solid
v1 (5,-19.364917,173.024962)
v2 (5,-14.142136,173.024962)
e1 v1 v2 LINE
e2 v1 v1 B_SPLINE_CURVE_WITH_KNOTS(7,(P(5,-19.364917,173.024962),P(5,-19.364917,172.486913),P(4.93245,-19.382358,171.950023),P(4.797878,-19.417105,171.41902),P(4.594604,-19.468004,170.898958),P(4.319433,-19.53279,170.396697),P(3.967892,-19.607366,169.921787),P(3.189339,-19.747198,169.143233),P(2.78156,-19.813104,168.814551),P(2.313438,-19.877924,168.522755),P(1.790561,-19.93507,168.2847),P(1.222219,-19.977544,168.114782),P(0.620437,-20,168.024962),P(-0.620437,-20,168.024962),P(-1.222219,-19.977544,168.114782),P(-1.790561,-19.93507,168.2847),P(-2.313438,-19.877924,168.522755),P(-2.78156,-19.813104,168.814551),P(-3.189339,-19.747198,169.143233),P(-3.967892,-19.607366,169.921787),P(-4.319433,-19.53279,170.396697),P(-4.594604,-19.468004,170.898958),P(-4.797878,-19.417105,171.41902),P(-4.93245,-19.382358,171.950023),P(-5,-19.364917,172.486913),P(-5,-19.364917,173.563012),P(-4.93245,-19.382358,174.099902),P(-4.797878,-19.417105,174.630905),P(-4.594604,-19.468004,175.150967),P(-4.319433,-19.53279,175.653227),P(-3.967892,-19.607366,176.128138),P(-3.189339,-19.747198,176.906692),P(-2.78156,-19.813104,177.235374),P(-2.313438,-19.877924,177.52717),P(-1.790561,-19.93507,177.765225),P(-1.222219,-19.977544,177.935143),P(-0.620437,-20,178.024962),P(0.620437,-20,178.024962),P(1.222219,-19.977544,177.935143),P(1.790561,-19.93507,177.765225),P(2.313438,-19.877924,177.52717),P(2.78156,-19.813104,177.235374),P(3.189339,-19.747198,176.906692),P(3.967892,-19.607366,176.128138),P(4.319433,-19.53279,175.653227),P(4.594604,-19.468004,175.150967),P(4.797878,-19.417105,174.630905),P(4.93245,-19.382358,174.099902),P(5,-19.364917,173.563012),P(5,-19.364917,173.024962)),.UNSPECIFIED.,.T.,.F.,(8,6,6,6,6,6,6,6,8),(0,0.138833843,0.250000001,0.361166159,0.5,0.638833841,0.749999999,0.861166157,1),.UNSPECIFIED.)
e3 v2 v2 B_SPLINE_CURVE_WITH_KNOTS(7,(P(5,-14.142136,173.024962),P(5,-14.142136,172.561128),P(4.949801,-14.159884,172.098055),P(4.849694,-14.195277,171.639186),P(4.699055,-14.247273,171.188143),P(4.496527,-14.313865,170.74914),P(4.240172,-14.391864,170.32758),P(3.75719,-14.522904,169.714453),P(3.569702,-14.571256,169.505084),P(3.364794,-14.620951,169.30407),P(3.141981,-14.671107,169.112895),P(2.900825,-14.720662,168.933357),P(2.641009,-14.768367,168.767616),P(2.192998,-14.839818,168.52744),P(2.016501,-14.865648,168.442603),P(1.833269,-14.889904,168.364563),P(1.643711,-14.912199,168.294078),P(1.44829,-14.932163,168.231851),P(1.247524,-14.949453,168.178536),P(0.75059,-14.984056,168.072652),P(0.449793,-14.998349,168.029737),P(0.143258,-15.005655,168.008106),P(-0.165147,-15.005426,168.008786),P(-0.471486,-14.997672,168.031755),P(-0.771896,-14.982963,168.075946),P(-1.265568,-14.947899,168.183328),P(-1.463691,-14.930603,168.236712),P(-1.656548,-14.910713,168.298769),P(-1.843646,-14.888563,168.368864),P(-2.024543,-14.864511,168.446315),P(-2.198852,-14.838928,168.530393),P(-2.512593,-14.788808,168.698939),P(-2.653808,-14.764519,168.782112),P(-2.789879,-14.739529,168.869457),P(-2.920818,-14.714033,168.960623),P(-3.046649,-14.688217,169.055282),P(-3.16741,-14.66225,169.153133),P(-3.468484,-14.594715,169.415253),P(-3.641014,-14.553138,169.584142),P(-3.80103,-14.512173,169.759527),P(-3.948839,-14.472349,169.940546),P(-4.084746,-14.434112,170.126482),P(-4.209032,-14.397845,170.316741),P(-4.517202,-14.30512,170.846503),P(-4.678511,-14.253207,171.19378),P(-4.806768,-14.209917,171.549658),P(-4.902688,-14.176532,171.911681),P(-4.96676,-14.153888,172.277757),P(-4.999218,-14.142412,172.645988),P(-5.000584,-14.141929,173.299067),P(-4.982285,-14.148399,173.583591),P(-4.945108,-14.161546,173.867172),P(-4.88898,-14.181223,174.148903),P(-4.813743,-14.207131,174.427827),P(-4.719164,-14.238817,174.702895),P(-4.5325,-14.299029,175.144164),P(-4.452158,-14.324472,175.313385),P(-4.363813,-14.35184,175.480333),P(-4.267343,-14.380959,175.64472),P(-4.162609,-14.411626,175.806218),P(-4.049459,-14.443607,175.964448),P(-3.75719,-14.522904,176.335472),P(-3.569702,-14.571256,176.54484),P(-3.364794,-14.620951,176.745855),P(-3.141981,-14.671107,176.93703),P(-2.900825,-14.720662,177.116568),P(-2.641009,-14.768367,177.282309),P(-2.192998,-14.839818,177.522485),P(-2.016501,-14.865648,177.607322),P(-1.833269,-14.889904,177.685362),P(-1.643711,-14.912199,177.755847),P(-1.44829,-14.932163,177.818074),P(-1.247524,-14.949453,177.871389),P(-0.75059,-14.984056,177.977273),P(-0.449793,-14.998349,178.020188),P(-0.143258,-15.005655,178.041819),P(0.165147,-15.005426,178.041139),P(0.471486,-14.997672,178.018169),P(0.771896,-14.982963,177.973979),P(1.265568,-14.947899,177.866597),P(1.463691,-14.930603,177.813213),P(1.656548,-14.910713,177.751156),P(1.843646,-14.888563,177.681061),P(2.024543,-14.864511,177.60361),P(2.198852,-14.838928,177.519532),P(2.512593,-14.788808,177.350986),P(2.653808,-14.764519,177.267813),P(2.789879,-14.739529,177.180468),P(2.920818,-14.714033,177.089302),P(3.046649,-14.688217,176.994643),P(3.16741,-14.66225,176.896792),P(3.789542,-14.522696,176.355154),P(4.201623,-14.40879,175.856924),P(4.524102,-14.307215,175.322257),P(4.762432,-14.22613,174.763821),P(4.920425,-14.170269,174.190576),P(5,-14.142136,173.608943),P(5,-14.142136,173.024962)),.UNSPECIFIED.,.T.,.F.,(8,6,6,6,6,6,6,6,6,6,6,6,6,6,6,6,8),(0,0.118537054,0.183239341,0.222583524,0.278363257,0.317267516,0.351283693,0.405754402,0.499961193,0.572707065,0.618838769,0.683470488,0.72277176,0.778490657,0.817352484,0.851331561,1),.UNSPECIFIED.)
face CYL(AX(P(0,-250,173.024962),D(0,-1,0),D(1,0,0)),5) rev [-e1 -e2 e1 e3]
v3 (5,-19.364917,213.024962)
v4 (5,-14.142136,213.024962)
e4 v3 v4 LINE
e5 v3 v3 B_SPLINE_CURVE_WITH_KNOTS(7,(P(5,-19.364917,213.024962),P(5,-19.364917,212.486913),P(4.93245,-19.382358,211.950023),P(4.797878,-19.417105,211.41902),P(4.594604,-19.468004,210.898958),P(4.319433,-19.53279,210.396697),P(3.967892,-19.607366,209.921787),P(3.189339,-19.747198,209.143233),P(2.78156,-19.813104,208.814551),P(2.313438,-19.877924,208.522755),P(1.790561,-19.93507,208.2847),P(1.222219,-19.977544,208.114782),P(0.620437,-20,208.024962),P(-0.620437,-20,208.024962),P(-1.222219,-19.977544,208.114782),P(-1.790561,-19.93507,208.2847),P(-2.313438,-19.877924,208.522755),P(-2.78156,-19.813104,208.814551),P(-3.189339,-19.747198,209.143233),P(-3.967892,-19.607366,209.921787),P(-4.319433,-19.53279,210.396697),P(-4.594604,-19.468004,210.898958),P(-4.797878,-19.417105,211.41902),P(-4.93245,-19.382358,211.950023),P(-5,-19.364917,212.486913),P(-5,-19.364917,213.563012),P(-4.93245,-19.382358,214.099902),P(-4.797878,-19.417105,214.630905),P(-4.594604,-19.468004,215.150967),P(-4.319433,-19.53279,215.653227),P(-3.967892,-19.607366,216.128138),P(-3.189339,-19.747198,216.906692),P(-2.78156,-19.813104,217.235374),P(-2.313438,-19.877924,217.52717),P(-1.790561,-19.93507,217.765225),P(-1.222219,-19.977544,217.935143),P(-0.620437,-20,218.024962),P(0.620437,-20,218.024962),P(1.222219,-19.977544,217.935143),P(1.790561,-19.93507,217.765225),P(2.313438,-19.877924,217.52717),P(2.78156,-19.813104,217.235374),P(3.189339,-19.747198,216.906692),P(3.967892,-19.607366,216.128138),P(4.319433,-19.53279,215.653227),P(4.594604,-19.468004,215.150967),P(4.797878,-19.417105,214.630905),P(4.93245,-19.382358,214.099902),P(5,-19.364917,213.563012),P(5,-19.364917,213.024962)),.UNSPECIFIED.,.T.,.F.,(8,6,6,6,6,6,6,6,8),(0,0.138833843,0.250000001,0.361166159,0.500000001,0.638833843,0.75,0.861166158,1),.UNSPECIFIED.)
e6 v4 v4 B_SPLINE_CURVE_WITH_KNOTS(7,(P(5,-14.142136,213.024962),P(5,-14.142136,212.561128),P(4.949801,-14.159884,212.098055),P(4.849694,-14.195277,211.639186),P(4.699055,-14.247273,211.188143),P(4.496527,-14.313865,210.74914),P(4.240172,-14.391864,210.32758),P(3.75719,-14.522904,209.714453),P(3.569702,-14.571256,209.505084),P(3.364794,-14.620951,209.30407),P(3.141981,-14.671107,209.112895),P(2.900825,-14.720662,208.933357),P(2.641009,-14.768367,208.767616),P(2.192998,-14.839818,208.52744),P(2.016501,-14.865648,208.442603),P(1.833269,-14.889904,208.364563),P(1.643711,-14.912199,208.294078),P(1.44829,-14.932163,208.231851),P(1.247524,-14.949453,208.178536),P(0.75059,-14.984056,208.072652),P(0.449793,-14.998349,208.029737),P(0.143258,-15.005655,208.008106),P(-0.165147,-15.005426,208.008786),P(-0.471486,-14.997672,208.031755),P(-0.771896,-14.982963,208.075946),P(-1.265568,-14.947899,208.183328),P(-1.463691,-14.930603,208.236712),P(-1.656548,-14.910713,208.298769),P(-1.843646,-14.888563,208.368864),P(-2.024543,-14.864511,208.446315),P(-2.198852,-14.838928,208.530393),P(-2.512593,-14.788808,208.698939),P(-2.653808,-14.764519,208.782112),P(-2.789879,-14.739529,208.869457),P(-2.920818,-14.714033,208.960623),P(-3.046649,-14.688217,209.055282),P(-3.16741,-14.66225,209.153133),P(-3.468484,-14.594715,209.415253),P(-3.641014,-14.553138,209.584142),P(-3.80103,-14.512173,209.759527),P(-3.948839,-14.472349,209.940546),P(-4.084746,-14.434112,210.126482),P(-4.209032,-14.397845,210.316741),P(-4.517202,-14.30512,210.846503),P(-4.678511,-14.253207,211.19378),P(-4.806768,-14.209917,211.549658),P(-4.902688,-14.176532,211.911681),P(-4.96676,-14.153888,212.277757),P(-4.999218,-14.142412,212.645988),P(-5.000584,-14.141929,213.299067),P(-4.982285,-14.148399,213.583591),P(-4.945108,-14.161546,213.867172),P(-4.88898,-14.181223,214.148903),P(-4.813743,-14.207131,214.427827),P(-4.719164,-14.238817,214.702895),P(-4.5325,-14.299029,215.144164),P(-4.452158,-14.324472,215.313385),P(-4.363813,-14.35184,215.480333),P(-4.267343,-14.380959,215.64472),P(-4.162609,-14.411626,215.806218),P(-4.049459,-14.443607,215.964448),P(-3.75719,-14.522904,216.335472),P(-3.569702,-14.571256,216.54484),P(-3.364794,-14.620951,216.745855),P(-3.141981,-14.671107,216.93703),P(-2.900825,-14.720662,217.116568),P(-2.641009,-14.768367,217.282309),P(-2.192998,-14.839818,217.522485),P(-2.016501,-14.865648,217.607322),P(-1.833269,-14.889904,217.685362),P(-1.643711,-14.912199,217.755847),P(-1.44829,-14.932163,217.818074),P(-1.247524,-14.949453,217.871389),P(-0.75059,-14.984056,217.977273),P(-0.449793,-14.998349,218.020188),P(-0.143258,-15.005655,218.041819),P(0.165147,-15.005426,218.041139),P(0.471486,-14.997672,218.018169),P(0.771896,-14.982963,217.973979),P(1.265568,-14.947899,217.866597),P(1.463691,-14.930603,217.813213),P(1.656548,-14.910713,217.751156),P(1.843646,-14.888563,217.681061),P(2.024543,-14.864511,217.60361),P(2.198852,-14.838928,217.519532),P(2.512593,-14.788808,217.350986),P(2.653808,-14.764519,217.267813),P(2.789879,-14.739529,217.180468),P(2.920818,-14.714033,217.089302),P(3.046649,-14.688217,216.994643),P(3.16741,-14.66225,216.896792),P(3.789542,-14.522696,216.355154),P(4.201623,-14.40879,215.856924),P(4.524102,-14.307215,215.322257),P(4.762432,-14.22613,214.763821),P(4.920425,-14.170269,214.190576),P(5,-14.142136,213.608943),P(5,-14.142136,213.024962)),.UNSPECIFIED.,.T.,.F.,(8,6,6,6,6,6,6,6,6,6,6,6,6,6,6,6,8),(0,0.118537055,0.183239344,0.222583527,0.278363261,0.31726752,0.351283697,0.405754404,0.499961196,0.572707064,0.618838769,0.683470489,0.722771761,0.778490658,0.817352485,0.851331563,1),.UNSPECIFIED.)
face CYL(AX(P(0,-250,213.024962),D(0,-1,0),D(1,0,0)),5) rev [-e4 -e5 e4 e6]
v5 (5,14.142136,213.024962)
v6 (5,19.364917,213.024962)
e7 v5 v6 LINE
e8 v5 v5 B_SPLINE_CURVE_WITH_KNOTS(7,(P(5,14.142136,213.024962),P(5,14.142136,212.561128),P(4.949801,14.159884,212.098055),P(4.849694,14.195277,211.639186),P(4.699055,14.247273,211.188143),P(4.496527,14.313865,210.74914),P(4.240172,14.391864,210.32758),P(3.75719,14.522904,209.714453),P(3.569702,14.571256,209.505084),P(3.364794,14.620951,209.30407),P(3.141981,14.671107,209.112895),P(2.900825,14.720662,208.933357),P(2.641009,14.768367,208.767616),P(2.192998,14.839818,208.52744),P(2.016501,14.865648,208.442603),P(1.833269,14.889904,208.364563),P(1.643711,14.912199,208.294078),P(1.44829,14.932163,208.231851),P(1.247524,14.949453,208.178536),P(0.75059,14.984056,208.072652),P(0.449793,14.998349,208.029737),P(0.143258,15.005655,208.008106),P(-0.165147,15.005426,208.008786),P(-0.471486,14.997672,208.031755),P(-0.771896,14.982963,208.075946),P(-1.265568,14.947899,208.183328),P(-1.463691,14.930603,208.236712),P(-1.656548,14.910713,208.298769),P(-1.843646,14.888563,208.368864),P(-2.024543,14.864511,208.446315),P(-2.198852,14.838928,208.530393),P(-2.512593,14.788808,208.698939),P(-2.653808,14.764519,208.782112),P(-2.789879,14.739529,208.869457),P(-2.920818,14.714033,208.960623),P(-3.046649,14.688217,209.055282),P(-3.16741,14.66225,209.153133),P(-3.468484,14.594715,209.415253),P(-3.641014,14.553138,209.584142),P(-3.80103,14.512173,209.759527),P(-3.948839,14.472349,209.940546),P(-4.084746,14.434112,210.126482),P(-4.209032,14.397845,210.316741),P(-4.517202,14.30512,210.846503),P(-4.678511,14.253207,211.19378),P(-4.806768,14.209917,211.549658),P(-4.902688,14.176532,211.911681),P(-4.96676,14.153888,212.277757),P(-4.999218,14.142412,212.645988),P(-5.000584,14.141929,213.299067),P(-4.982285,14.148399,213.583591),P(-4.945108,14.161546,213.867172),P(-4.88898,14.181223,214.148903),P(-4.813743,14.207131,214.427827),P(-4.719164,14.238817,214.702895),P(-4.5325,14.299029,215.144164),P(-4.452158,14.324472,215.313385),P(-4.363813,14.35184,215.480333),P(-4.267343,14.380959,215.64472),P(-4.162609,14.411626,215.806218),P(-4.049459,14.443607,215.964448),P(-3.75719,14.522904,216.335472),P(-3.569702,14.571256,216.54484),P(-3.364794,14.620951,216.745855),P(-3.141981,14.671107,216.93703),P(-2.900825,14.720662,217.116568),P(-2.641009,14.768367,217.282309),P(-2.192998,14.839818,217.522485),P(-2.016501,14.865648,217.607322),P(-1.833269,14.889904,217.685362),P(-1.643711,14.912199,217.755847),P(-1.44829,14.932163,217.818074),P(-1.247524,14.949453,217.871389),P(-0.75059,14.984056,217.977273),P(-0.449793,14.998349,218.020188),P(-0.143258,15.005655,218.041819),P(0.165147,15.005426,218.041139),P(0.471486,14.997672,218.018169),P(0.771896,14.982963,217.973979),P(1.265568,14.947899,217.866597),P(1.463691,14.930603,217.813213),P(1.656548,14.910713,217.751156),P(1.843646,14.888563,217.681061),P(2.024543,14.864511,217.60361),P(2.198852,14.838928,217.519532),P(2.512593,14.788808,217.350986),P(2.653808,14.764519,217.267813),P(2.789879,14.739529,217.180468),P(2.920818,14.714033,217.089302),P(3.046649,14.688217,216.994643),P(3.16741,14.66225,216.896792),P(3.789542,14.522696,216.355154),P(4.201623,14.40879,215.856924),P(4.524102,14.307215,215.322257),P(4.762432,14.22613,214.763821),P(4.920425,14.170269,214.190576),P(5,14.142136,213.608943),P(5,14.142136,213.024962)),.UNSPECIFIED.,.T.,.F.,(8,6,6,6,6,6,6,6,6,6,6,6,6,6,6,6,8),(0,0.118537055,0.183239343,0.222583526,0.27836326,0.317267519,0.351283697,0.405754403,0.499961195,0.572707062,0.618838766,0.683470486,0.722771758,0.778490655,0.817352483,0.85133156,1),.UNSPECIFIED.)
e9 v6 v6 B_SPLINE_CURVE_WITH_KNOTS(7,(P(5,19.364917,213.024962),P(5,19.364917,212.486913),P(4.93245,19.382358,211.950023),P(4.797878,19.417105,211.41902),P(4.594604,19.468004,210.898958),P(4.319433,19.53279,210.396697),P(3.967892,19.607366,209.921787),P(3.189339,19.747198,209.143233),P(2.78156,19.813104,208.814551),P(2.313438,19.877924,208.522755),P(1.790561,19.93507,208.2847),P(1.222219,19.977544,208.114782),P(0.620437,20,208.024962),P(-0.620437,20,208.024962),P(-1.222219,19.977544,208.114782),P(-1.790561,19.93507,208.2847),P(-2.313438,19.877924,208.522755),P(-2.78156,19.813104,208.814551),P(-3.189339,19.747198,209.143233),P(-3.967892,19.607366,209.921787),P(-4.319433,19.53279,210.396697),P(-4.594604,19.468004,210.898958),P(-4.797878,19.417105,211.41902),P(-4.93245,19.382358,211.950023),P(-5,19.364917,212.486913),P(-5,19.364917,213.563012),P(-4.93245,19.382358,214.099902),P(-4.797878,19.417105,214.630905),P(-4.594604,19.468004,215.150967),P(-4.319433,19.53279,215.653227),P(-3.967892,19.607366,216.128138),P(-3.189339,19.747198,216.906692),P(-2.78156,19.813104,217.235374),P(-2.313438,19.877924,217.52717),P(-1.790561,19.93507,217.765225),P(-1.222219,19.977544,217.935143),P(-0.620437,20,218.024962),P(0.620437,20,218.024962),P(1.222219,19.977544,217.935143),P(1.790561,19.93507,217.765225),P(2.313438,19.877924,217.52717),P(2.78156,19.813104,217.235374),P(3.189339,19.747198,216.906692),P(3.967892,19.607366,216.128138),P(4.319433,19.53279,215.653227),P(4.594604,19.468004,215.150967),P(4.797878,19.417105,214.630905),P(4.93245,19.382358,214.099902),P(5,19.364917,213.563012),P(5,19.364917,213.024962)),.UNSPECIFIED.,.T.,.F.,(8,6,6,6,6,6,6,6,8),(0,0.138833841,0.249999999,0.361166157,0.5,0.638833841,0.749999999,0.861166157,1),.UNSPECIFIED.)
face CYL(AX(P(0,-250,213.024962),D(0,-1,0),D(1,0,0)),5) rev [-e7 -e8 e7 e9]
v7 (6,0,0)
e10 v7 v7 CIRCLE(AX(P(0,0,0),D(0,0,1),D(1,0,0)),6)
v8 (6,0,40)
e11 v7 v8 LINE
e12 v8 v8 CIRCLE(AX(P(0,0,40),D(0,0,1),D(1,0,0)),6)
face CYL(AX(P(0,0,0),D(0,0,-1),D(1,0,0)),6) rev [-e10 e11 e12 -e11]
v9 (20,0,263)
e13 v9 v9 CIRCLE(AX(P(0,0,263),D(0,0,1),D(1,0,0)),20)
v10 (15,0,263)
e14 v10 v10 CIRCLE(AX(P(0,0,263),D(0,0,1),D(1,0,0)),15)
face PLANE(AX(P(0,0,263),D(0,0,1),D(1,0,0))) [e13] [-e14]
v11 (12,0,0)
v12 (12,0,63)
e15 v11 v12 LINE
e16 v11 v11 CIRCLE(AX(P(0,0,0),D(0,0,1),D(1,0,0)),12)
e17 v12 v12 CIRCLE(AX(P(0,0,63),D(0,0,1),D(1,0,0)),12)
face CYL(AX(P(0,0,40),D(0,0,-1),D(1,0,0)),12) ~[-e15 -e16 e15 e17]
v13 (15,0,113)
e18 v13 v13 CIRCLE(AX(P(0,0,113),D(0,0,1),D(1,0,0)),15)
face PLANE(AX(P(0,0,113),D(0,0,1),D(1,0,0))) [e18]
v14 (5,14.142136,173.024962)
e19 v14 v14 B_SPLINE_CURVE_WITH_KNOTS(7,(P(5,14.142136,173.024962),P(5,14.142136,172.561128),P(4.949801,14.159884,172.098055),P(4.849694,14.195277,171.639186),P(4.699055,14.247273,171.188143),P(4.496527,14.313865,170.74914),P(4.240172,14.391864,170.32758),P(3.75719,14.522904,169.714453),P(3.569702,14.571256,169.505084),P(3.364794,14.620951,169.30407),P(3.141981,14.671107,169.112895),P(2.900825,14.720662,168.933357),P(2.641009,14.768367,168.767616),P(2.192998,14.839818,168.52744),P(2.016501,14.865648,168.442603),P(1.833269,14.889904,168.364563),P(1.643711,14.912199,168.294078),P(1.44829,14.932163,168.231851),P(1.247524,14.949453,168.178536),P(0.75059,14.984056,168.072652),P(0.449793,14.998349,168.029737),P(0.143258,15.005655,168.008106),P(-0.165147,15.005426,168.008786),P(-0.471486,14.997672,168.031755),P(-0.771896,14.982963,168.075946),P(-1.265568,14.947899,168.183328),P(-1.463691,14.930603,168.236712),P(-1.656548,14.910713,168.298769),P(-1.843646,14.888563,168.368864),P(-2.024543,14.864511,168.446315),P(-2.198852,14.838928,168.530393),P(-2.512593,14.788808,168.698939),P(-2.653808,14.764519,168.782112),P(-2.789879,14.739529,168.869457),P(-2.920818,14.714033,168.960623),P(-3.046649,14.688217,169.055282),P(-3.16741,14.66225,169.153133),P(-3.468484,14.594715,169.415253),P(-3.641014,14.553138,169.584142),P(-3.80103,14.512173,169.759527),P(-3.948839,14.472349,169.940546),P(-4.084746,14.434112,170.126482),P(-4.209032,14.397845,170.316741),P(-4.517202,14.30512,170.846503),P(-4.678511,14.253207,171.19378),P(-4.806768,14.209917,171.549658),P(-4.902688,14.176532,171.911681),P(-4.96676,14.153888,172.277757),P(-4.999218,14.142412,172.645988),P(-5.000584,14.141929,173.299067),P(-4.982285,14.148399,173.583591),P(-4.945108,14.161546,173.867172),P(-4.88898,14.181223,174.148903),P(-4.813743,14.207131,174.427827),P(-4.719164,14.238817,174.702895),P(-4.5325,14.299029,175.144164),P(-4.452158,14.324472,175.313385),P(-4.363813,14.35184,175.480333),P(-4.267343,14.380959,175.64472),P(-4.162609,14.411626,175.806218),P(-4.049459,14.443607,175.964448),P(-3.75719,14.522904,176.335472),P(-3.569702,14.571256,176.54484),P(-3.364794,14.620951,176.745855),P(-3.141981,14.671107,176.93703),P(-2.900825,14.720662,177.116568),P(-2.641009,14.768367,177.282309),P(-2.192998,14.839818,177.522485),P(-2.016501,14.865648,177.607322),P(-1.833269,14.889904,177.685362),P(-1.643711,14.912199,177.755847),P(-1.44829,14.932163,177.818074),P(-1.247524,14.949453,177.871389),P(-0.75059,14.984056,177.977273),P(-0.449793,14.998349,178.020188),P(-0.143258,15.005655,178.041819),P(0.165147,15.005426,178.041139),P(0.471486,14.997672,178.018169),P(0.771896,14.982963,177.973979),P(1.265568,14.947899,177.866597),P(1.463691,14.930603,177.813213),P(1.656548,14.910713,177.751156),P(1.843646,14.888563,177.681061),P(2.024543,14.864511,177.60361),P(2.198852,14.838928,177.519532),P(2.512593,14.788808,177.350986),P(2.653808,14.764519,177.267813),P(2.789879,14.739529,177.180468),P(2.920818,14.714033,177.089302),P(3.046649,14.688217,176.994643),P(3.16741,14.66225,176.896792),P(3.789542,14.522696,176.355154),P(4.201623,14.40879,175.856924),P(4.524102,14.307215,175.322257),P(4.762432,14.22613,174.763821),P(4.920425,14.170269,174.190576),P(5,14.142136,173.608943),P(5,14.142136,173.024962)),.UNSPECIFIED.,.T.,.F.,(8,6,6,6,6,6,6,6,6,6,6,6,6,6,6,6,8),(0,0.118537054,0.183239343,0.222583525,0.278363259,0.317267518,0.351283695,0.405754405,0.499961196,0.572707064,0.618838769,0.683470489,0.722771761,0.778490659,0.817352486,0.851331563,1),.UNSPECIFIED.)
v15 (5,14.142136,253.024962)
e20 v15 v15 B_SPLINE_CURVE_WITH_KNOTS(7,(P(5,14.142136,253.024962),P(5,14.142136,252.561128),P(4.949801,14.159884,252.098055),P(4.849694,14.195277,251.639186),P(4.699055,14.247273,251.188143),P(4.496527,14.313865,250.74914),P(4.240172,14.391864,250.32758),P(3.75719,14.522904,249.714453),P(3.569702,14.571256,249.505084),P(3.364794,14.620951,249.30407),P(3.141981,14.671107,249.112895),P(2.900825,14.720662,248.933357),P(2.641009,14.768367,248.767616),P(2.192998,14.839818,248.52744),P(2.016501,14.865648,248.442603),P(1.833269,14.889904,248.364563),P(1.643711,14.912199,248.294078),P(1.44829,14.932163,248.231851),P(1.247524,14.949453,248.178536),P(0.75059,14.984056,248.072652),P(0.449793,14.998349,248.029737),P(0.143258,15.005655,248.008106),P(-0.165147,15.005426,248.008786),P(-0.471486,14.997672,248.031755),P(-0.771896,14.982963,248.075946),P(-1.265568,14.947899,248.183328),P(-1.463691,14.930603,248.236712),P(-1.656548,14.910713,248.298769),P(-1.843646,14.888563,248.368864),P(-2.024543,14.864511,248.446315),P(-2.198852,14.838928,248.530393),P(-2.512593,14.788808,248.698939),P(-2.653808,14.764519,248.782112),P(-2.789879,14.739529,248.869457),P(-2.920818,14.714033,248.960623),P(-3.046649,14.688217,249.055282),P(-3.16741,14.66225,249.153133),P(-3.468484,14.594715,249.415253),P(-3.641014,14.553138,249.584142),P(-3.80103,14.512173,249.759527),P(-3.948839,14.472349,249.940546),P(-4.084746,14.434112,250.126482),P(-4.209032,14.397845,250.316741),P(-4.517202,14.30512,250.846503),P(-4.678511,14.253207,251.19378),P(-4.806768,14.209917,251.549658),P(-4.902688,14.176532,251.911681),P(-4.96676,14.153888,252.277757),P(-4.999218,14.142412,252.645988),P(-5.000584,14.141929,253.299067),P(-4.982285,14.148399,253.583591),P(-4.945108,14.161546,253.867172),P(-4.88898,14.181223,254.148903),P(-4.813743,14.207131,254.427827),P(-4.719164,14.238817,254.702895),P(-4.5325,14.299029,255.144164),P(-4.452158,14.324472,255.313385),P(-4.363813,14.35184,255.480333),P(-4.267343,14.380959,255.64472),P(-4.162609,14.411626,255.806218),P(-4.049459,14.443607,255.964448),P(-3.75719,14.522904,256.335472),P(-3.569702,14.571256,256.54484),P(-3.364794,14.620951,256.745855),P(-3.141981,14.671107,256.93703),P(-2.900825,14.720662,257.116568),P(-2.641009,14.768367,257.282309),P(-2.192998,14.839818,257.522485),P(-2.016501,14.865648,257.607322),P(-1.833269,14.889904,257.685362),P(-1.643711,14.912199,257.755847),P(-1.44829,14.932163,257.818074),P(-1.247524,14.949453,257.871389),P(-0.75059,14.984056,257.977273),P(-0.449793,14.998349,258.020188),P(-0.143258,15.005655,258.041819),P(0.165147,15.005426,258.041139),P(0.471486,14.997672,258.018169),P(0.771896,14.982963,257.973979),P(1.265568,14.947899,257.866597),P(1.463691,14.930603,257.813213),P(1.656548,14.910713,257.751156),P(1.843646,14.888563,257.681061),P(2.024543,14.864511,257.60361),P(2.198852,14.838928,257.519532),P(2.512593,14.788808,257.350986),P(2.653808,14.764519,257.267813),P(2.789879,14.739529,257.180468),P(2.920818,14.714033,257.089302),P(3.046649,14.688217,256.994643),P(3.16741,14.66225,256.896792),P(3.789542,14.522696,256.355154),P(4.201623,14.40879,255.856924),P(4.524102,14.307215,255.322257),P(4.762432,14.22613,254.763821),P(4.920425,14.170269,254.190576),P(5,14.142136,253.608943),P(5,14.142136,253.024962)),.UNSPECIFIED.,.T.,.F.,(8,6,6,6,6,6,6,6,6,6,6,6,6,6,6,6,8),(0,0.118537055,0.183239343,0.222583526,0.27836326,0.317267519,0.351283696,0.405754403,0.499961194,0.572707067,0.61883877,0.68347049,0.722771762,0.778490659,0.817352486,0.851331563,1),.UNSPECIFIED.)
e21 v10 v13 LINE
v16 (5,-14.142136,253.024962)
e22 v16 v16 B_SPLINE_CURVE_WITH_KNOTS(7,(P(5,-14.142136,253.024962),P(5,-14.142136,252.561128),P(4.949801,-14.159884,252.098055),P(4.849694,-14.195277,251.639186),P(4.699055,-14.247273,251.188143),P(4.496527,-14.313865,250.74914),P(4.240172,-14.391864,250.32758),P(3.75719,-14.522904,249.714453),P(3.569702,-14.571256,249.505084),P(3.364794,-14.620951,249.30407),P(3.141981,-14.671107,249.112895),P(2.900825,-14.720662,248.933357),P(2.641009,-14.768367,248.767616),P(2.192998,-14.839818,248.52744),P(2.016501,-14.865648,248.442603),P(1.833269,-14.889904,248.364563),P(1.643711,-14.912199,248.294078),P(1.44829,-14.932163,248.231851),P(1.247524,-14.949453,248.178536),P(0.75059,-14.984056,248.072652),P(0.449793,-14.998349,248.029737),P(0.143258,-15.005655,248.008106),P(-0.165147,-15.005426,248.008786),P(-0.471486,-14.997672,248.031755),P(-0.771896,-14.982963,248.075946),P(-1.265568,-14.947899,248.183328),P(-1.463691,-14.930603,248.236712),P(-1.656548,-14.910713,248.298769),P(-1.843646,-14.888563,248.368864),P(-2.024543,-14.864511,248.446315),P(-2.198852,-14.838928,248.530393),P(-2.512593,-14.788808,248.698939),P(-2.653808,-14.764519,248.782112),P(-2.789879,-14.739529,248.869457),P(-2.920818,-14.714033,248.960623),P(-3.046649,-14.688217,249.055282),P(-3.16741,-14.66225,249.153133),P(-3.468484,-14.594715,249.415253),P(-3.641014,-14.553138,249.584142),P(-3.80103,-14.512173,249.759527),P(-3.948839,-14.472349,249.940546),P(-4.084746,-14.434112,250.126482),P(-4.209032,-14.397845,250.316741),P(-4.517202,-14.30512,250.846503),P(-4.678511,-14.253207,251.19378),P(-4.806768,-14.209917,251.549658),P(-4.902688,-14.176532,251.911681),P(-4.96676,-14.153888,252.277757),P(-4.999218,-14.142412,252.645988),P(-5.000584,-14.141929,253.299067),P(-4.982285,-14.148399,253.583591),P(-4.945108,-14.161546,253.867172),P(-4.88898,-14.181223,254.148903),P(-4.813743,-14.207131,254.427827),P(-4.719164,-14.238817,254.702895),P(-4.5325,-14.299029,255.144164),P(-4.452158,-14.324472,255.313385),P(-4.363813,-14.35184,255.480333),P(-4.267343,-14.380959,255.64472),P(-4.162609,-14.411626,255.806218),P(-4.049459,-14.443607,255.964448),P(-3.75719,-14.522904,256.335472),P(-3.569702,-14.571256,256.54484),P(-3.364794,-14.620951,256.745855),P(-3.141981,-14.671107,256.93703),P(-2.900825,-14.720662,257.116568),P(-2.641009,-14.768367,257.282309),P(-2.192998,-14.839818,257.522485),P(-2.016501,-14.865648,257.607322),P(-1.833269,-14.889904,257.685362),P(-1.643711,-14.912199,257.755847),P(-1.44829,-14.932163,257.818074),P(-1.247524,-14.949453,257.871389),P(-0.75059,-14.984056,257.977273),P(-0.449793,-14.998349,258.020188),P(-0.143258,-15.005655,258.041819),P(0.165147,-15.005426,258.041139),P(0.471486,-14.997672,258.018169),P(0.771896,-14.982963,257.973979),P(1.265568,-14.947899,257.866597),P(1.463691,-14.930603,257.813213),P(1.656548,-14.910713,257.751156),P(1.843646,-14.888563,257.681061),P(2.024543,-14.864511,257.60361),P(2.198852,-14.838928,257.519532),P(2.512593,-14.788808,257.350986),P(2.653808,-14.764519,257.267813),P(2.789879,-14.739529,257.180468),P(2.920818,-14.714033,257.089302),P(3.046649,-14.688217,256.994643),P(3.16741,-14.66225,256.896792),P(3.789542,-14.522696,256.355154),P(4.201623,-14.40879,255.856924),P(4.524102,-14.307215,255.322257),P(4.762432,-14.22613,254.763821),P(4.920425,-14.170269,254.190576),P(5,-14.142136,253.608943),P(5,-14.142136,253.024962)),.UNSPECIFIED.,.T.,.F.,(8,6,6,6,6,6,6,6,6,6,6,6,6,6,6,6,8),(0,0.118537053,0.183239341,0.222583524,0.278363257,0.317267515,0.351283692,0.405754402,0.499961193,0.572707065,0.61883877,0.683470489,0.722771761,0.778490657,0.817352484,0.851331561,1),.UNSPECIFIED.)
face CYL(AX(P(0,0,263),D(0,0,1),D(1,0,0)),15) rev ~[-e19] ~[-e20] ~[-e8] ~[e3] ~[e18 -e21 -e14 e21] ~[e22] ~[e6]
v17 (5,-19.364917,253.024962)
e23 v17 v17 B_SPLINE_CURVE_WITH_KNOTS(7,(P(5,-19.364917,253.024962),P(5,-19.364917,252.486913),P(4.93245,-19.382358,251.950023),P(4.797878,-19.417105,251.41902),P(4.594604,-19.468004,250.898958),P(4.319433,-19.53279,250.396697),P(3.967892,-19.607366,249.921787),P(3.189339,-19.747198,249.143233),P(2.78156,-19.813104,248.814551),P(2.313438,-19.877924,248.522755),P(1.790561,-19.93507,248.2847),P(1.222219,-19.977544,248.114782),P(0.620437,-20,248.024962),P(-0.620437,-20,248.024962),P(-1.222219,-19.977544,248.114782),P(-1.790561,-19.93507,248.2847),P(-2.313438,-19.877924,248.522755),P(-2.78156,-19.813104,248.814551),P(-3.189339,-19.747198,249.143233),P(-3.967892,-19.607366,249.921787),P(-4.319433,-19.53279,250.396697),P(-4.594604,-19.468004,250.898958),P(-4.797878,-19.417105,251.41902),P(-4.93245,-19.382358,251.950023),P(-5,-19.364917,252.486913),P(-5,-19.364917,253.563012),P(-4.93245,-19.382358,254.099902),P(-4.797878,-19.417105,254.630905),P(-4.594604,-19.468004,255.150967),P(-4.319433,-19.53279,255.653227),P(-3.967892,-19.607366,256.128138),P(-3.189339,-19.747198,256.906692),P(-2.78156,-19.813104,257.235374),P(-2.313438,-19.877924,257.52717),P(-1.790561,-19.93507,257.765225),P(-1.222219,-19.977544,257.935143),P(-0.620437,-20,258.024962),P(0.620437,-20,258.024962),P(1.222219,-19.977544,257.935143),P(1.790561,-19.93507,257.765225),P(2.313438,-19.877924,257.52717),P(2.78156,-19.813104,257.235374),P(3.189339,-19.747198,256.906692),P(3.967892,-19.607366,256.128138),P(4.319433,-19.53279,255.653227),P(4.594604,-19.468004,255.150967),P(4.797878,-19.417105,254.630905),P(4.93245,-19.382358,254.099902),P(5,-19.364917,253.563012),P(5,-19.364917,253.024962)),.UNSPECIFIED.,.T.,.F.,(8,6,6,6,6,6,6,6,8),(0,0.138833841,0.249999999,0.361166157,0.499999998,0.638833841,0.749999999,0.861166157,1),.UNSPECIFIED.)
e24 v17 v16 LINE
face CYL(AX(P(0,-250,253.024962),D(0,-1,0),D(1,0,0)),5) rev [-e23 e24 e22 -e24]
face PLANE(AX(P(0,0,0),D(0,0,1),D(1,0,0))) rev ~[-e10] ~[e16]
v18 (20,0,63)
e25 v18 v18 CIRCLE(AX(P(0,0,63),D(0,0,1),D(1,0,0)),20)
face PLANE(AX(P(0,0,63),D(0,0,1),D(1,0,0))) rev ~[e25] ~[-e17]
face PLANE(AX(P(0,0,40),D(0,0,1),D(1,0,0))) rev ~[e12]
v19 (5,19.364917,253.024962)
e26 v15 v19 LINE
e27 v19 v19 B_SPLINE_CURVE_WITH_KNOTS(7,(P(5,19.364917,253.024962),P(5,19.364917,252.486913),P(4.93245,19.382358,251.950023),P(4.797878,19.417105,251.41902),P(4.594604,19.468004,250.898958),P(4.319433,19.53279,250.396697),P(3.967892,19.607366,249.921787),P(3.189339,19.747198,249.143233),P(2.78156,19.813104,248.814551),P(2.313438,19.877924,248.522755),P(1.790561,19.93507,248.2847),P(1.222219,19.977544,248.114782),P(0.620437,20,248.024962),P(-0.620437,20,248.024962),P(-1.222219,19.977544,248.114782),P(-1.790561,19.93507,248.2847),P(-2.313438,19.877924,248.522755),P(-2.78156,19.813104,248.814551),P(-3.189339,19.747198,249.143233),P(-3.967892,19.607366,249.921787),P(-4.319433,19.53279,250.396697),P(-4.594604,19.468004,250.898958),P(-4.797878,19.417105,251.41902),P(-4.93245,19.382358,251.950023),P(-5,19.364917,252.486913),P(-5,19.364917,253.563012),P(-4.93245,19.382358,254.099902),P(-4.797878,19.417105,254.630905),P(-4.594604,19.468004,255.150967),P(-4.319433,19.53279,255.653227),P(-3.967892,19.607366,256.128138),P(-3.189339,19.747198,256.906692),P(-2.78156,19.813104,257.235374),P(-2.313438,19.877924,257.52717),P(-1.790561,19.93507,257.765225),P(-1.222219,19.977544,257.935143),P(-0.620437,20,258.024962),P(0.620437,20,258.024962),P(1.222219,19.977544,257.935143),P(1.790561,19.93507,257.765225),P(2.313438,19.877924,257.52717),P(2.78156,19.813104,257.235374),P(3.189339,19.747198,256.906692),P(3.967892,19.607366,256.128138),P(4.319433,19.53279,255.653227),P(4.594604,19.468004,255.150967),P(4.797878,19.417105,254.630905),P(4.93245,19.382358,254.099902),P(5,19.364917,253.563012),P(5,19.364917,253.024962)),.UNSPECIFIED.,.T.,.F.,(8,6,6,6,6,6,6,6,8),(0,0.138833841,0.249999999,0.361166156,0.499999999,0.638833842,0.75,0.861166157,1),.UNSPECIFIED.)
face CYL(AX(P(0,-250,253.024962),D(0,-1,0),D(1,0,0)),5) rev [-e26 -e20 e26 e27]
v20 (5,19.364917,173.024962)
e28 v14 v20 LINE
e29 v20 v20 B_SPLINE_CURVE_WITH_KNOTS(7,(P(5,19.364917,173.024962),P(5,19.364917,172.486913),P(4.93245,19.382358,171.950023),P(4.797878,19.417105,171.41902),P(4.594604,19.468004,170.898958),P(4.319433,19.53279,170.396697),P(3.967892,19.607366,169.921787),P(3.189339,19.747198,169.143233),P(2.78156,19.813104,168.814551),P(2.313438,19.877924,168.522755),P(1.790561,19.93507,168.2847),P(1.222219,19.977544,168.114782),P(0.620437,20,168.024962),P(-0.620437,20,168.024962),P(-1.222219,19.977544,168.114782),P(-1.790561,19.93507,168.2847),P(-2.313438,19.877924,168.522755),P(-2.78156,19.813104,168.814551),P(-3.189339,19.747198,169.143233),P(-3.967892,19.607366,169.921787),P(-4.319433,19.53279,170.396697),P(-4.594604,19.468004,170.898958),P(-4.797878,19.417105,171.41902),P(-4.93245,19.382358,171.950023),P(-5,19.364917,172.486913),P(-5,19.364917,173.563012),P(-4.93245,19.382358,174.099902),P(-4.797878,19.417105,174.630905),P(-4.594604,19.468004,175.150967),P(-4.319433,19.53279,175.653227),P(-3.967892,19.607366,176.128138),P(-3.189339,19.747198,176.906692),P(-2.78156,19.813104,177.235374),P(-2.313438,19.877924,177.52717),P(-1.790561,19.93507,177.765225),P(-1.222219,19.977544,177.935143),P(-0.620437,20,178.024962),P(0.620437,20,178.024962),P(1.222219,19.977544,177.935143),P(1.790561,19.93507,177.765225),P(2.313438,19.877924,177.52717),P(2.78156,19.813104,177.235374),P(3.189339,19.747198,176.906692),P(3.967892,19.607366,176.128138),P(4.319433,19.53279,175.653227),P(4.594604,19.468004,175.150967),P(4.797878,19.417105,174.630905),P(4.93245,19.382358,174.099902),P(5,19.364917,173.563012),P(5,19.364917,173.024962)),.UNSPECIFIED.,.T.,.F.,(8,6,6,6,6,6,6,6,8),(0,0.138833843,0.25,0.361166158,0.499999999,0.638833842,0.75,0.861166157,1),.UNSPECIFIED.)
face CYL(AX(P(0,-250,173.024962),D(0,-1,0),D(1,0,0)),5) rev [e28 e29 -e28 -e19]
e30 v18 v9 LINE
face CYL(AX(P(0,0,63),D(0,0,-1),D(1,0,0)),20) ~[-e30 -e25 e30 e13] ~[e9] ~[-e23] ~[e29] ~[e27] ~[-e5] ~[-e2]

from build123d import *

# Parameters (mm, degrees)
SZKIC1_R                        = 12
SZKIC1_R_2                      = 6
DODANIE_WYCI_GNI_CIE1_DEPTH     = 40
SZKIC2_R                        = 12
DODANIE_WYCI_GNI_CIE2_DEPTH     = 23
SZKIC3_R                        = 20
DODANIE_WYCI_GNI_CIE3_DEPTH     = 200
SZKIC4_R                        = 15
WYTNIJ_WYCI_GNI_CIE1_DEPTH      = 150
WYTNIJ_WYCI_GNI_CIE2_DEPTH      = 250
WYTNIJ_WYCI_GNI_CIE2_DEPTH_BACK = 250
SZKIC5_R                        = 5


with BuildPart() as part:
    # Szkic1 → Dodanie-wyciągnięcie1 (new body)
    with BuildSketch(Plane.XY):
        Circle(SZKIC1_R)
        Circle(SZKIC1_R_2, mode=Mode.SUBTRACT)
    extrude(amount=DODANIE_WYCI_GNI_CIE1_DEPTH)

    # Szkic2 → Dodanie-wyciągnięcie2 (add)
    with BuildSketch(Plane.XY.offset(40)):
        Circle(SZKIC2_R)
    extrude(amount=DODANIE_WYCI_GNI_CIE2_DEPTH)

    # Szkic3 → Dodanie-wyciągnięcie3 (add)
    with BuildSketch(Plane.XY.offset(63)):
        Circle(SZKIC3_R)
    extrude(amount=DODANIE_WYCI_GNI_CIE3_DEPTH)

    # Szkic4 → Wytnij-wyciągnięcie1 (cut)
    with BuildSketch(Plane.XY.offset(263)):
        Circle(SZKIC4_R)
    extrude(amount=-WYTNIJ_WYCI_GNI_CIE1_DEPTH, mode=Mode.SUBTRACT)

    # Szkic5 → Wytnij-wyciągnięcie2 (cut, two sides: drawn at the far end of the back side and taken through both)
    with BuildSketch(Plane(origin=(0, 0, 0), x_dir=(1, 0, 0), z_dir=(0, 1, 0)).offset(-WYTNIJ_WYCI_GNI_CIE2_DEPTH_BACK)):
        with Locations((0, -333.024962479)):
            Circle(SZKIC5_R)
        with Locations((0, -293.024962479)):
            Circle(SZKIC5_R)
        with Locations((0, -253.024962479)):
            Circle(SZKIC5_R)
        with Locations((0, -213.024962479)):
            Circle(SZKIC5_R)
        with Locations((0, -173.024962479)):
            Circle(SZKIC5_R)
    extrude(amount=WYTNIJ_WYCI_GNI_CIE2_DEPTH + WYTNIJ_WYCI_GNI_CIE2_DEPTH_BACK, mode=Mode.SUBTRACT)


solid = part.part
